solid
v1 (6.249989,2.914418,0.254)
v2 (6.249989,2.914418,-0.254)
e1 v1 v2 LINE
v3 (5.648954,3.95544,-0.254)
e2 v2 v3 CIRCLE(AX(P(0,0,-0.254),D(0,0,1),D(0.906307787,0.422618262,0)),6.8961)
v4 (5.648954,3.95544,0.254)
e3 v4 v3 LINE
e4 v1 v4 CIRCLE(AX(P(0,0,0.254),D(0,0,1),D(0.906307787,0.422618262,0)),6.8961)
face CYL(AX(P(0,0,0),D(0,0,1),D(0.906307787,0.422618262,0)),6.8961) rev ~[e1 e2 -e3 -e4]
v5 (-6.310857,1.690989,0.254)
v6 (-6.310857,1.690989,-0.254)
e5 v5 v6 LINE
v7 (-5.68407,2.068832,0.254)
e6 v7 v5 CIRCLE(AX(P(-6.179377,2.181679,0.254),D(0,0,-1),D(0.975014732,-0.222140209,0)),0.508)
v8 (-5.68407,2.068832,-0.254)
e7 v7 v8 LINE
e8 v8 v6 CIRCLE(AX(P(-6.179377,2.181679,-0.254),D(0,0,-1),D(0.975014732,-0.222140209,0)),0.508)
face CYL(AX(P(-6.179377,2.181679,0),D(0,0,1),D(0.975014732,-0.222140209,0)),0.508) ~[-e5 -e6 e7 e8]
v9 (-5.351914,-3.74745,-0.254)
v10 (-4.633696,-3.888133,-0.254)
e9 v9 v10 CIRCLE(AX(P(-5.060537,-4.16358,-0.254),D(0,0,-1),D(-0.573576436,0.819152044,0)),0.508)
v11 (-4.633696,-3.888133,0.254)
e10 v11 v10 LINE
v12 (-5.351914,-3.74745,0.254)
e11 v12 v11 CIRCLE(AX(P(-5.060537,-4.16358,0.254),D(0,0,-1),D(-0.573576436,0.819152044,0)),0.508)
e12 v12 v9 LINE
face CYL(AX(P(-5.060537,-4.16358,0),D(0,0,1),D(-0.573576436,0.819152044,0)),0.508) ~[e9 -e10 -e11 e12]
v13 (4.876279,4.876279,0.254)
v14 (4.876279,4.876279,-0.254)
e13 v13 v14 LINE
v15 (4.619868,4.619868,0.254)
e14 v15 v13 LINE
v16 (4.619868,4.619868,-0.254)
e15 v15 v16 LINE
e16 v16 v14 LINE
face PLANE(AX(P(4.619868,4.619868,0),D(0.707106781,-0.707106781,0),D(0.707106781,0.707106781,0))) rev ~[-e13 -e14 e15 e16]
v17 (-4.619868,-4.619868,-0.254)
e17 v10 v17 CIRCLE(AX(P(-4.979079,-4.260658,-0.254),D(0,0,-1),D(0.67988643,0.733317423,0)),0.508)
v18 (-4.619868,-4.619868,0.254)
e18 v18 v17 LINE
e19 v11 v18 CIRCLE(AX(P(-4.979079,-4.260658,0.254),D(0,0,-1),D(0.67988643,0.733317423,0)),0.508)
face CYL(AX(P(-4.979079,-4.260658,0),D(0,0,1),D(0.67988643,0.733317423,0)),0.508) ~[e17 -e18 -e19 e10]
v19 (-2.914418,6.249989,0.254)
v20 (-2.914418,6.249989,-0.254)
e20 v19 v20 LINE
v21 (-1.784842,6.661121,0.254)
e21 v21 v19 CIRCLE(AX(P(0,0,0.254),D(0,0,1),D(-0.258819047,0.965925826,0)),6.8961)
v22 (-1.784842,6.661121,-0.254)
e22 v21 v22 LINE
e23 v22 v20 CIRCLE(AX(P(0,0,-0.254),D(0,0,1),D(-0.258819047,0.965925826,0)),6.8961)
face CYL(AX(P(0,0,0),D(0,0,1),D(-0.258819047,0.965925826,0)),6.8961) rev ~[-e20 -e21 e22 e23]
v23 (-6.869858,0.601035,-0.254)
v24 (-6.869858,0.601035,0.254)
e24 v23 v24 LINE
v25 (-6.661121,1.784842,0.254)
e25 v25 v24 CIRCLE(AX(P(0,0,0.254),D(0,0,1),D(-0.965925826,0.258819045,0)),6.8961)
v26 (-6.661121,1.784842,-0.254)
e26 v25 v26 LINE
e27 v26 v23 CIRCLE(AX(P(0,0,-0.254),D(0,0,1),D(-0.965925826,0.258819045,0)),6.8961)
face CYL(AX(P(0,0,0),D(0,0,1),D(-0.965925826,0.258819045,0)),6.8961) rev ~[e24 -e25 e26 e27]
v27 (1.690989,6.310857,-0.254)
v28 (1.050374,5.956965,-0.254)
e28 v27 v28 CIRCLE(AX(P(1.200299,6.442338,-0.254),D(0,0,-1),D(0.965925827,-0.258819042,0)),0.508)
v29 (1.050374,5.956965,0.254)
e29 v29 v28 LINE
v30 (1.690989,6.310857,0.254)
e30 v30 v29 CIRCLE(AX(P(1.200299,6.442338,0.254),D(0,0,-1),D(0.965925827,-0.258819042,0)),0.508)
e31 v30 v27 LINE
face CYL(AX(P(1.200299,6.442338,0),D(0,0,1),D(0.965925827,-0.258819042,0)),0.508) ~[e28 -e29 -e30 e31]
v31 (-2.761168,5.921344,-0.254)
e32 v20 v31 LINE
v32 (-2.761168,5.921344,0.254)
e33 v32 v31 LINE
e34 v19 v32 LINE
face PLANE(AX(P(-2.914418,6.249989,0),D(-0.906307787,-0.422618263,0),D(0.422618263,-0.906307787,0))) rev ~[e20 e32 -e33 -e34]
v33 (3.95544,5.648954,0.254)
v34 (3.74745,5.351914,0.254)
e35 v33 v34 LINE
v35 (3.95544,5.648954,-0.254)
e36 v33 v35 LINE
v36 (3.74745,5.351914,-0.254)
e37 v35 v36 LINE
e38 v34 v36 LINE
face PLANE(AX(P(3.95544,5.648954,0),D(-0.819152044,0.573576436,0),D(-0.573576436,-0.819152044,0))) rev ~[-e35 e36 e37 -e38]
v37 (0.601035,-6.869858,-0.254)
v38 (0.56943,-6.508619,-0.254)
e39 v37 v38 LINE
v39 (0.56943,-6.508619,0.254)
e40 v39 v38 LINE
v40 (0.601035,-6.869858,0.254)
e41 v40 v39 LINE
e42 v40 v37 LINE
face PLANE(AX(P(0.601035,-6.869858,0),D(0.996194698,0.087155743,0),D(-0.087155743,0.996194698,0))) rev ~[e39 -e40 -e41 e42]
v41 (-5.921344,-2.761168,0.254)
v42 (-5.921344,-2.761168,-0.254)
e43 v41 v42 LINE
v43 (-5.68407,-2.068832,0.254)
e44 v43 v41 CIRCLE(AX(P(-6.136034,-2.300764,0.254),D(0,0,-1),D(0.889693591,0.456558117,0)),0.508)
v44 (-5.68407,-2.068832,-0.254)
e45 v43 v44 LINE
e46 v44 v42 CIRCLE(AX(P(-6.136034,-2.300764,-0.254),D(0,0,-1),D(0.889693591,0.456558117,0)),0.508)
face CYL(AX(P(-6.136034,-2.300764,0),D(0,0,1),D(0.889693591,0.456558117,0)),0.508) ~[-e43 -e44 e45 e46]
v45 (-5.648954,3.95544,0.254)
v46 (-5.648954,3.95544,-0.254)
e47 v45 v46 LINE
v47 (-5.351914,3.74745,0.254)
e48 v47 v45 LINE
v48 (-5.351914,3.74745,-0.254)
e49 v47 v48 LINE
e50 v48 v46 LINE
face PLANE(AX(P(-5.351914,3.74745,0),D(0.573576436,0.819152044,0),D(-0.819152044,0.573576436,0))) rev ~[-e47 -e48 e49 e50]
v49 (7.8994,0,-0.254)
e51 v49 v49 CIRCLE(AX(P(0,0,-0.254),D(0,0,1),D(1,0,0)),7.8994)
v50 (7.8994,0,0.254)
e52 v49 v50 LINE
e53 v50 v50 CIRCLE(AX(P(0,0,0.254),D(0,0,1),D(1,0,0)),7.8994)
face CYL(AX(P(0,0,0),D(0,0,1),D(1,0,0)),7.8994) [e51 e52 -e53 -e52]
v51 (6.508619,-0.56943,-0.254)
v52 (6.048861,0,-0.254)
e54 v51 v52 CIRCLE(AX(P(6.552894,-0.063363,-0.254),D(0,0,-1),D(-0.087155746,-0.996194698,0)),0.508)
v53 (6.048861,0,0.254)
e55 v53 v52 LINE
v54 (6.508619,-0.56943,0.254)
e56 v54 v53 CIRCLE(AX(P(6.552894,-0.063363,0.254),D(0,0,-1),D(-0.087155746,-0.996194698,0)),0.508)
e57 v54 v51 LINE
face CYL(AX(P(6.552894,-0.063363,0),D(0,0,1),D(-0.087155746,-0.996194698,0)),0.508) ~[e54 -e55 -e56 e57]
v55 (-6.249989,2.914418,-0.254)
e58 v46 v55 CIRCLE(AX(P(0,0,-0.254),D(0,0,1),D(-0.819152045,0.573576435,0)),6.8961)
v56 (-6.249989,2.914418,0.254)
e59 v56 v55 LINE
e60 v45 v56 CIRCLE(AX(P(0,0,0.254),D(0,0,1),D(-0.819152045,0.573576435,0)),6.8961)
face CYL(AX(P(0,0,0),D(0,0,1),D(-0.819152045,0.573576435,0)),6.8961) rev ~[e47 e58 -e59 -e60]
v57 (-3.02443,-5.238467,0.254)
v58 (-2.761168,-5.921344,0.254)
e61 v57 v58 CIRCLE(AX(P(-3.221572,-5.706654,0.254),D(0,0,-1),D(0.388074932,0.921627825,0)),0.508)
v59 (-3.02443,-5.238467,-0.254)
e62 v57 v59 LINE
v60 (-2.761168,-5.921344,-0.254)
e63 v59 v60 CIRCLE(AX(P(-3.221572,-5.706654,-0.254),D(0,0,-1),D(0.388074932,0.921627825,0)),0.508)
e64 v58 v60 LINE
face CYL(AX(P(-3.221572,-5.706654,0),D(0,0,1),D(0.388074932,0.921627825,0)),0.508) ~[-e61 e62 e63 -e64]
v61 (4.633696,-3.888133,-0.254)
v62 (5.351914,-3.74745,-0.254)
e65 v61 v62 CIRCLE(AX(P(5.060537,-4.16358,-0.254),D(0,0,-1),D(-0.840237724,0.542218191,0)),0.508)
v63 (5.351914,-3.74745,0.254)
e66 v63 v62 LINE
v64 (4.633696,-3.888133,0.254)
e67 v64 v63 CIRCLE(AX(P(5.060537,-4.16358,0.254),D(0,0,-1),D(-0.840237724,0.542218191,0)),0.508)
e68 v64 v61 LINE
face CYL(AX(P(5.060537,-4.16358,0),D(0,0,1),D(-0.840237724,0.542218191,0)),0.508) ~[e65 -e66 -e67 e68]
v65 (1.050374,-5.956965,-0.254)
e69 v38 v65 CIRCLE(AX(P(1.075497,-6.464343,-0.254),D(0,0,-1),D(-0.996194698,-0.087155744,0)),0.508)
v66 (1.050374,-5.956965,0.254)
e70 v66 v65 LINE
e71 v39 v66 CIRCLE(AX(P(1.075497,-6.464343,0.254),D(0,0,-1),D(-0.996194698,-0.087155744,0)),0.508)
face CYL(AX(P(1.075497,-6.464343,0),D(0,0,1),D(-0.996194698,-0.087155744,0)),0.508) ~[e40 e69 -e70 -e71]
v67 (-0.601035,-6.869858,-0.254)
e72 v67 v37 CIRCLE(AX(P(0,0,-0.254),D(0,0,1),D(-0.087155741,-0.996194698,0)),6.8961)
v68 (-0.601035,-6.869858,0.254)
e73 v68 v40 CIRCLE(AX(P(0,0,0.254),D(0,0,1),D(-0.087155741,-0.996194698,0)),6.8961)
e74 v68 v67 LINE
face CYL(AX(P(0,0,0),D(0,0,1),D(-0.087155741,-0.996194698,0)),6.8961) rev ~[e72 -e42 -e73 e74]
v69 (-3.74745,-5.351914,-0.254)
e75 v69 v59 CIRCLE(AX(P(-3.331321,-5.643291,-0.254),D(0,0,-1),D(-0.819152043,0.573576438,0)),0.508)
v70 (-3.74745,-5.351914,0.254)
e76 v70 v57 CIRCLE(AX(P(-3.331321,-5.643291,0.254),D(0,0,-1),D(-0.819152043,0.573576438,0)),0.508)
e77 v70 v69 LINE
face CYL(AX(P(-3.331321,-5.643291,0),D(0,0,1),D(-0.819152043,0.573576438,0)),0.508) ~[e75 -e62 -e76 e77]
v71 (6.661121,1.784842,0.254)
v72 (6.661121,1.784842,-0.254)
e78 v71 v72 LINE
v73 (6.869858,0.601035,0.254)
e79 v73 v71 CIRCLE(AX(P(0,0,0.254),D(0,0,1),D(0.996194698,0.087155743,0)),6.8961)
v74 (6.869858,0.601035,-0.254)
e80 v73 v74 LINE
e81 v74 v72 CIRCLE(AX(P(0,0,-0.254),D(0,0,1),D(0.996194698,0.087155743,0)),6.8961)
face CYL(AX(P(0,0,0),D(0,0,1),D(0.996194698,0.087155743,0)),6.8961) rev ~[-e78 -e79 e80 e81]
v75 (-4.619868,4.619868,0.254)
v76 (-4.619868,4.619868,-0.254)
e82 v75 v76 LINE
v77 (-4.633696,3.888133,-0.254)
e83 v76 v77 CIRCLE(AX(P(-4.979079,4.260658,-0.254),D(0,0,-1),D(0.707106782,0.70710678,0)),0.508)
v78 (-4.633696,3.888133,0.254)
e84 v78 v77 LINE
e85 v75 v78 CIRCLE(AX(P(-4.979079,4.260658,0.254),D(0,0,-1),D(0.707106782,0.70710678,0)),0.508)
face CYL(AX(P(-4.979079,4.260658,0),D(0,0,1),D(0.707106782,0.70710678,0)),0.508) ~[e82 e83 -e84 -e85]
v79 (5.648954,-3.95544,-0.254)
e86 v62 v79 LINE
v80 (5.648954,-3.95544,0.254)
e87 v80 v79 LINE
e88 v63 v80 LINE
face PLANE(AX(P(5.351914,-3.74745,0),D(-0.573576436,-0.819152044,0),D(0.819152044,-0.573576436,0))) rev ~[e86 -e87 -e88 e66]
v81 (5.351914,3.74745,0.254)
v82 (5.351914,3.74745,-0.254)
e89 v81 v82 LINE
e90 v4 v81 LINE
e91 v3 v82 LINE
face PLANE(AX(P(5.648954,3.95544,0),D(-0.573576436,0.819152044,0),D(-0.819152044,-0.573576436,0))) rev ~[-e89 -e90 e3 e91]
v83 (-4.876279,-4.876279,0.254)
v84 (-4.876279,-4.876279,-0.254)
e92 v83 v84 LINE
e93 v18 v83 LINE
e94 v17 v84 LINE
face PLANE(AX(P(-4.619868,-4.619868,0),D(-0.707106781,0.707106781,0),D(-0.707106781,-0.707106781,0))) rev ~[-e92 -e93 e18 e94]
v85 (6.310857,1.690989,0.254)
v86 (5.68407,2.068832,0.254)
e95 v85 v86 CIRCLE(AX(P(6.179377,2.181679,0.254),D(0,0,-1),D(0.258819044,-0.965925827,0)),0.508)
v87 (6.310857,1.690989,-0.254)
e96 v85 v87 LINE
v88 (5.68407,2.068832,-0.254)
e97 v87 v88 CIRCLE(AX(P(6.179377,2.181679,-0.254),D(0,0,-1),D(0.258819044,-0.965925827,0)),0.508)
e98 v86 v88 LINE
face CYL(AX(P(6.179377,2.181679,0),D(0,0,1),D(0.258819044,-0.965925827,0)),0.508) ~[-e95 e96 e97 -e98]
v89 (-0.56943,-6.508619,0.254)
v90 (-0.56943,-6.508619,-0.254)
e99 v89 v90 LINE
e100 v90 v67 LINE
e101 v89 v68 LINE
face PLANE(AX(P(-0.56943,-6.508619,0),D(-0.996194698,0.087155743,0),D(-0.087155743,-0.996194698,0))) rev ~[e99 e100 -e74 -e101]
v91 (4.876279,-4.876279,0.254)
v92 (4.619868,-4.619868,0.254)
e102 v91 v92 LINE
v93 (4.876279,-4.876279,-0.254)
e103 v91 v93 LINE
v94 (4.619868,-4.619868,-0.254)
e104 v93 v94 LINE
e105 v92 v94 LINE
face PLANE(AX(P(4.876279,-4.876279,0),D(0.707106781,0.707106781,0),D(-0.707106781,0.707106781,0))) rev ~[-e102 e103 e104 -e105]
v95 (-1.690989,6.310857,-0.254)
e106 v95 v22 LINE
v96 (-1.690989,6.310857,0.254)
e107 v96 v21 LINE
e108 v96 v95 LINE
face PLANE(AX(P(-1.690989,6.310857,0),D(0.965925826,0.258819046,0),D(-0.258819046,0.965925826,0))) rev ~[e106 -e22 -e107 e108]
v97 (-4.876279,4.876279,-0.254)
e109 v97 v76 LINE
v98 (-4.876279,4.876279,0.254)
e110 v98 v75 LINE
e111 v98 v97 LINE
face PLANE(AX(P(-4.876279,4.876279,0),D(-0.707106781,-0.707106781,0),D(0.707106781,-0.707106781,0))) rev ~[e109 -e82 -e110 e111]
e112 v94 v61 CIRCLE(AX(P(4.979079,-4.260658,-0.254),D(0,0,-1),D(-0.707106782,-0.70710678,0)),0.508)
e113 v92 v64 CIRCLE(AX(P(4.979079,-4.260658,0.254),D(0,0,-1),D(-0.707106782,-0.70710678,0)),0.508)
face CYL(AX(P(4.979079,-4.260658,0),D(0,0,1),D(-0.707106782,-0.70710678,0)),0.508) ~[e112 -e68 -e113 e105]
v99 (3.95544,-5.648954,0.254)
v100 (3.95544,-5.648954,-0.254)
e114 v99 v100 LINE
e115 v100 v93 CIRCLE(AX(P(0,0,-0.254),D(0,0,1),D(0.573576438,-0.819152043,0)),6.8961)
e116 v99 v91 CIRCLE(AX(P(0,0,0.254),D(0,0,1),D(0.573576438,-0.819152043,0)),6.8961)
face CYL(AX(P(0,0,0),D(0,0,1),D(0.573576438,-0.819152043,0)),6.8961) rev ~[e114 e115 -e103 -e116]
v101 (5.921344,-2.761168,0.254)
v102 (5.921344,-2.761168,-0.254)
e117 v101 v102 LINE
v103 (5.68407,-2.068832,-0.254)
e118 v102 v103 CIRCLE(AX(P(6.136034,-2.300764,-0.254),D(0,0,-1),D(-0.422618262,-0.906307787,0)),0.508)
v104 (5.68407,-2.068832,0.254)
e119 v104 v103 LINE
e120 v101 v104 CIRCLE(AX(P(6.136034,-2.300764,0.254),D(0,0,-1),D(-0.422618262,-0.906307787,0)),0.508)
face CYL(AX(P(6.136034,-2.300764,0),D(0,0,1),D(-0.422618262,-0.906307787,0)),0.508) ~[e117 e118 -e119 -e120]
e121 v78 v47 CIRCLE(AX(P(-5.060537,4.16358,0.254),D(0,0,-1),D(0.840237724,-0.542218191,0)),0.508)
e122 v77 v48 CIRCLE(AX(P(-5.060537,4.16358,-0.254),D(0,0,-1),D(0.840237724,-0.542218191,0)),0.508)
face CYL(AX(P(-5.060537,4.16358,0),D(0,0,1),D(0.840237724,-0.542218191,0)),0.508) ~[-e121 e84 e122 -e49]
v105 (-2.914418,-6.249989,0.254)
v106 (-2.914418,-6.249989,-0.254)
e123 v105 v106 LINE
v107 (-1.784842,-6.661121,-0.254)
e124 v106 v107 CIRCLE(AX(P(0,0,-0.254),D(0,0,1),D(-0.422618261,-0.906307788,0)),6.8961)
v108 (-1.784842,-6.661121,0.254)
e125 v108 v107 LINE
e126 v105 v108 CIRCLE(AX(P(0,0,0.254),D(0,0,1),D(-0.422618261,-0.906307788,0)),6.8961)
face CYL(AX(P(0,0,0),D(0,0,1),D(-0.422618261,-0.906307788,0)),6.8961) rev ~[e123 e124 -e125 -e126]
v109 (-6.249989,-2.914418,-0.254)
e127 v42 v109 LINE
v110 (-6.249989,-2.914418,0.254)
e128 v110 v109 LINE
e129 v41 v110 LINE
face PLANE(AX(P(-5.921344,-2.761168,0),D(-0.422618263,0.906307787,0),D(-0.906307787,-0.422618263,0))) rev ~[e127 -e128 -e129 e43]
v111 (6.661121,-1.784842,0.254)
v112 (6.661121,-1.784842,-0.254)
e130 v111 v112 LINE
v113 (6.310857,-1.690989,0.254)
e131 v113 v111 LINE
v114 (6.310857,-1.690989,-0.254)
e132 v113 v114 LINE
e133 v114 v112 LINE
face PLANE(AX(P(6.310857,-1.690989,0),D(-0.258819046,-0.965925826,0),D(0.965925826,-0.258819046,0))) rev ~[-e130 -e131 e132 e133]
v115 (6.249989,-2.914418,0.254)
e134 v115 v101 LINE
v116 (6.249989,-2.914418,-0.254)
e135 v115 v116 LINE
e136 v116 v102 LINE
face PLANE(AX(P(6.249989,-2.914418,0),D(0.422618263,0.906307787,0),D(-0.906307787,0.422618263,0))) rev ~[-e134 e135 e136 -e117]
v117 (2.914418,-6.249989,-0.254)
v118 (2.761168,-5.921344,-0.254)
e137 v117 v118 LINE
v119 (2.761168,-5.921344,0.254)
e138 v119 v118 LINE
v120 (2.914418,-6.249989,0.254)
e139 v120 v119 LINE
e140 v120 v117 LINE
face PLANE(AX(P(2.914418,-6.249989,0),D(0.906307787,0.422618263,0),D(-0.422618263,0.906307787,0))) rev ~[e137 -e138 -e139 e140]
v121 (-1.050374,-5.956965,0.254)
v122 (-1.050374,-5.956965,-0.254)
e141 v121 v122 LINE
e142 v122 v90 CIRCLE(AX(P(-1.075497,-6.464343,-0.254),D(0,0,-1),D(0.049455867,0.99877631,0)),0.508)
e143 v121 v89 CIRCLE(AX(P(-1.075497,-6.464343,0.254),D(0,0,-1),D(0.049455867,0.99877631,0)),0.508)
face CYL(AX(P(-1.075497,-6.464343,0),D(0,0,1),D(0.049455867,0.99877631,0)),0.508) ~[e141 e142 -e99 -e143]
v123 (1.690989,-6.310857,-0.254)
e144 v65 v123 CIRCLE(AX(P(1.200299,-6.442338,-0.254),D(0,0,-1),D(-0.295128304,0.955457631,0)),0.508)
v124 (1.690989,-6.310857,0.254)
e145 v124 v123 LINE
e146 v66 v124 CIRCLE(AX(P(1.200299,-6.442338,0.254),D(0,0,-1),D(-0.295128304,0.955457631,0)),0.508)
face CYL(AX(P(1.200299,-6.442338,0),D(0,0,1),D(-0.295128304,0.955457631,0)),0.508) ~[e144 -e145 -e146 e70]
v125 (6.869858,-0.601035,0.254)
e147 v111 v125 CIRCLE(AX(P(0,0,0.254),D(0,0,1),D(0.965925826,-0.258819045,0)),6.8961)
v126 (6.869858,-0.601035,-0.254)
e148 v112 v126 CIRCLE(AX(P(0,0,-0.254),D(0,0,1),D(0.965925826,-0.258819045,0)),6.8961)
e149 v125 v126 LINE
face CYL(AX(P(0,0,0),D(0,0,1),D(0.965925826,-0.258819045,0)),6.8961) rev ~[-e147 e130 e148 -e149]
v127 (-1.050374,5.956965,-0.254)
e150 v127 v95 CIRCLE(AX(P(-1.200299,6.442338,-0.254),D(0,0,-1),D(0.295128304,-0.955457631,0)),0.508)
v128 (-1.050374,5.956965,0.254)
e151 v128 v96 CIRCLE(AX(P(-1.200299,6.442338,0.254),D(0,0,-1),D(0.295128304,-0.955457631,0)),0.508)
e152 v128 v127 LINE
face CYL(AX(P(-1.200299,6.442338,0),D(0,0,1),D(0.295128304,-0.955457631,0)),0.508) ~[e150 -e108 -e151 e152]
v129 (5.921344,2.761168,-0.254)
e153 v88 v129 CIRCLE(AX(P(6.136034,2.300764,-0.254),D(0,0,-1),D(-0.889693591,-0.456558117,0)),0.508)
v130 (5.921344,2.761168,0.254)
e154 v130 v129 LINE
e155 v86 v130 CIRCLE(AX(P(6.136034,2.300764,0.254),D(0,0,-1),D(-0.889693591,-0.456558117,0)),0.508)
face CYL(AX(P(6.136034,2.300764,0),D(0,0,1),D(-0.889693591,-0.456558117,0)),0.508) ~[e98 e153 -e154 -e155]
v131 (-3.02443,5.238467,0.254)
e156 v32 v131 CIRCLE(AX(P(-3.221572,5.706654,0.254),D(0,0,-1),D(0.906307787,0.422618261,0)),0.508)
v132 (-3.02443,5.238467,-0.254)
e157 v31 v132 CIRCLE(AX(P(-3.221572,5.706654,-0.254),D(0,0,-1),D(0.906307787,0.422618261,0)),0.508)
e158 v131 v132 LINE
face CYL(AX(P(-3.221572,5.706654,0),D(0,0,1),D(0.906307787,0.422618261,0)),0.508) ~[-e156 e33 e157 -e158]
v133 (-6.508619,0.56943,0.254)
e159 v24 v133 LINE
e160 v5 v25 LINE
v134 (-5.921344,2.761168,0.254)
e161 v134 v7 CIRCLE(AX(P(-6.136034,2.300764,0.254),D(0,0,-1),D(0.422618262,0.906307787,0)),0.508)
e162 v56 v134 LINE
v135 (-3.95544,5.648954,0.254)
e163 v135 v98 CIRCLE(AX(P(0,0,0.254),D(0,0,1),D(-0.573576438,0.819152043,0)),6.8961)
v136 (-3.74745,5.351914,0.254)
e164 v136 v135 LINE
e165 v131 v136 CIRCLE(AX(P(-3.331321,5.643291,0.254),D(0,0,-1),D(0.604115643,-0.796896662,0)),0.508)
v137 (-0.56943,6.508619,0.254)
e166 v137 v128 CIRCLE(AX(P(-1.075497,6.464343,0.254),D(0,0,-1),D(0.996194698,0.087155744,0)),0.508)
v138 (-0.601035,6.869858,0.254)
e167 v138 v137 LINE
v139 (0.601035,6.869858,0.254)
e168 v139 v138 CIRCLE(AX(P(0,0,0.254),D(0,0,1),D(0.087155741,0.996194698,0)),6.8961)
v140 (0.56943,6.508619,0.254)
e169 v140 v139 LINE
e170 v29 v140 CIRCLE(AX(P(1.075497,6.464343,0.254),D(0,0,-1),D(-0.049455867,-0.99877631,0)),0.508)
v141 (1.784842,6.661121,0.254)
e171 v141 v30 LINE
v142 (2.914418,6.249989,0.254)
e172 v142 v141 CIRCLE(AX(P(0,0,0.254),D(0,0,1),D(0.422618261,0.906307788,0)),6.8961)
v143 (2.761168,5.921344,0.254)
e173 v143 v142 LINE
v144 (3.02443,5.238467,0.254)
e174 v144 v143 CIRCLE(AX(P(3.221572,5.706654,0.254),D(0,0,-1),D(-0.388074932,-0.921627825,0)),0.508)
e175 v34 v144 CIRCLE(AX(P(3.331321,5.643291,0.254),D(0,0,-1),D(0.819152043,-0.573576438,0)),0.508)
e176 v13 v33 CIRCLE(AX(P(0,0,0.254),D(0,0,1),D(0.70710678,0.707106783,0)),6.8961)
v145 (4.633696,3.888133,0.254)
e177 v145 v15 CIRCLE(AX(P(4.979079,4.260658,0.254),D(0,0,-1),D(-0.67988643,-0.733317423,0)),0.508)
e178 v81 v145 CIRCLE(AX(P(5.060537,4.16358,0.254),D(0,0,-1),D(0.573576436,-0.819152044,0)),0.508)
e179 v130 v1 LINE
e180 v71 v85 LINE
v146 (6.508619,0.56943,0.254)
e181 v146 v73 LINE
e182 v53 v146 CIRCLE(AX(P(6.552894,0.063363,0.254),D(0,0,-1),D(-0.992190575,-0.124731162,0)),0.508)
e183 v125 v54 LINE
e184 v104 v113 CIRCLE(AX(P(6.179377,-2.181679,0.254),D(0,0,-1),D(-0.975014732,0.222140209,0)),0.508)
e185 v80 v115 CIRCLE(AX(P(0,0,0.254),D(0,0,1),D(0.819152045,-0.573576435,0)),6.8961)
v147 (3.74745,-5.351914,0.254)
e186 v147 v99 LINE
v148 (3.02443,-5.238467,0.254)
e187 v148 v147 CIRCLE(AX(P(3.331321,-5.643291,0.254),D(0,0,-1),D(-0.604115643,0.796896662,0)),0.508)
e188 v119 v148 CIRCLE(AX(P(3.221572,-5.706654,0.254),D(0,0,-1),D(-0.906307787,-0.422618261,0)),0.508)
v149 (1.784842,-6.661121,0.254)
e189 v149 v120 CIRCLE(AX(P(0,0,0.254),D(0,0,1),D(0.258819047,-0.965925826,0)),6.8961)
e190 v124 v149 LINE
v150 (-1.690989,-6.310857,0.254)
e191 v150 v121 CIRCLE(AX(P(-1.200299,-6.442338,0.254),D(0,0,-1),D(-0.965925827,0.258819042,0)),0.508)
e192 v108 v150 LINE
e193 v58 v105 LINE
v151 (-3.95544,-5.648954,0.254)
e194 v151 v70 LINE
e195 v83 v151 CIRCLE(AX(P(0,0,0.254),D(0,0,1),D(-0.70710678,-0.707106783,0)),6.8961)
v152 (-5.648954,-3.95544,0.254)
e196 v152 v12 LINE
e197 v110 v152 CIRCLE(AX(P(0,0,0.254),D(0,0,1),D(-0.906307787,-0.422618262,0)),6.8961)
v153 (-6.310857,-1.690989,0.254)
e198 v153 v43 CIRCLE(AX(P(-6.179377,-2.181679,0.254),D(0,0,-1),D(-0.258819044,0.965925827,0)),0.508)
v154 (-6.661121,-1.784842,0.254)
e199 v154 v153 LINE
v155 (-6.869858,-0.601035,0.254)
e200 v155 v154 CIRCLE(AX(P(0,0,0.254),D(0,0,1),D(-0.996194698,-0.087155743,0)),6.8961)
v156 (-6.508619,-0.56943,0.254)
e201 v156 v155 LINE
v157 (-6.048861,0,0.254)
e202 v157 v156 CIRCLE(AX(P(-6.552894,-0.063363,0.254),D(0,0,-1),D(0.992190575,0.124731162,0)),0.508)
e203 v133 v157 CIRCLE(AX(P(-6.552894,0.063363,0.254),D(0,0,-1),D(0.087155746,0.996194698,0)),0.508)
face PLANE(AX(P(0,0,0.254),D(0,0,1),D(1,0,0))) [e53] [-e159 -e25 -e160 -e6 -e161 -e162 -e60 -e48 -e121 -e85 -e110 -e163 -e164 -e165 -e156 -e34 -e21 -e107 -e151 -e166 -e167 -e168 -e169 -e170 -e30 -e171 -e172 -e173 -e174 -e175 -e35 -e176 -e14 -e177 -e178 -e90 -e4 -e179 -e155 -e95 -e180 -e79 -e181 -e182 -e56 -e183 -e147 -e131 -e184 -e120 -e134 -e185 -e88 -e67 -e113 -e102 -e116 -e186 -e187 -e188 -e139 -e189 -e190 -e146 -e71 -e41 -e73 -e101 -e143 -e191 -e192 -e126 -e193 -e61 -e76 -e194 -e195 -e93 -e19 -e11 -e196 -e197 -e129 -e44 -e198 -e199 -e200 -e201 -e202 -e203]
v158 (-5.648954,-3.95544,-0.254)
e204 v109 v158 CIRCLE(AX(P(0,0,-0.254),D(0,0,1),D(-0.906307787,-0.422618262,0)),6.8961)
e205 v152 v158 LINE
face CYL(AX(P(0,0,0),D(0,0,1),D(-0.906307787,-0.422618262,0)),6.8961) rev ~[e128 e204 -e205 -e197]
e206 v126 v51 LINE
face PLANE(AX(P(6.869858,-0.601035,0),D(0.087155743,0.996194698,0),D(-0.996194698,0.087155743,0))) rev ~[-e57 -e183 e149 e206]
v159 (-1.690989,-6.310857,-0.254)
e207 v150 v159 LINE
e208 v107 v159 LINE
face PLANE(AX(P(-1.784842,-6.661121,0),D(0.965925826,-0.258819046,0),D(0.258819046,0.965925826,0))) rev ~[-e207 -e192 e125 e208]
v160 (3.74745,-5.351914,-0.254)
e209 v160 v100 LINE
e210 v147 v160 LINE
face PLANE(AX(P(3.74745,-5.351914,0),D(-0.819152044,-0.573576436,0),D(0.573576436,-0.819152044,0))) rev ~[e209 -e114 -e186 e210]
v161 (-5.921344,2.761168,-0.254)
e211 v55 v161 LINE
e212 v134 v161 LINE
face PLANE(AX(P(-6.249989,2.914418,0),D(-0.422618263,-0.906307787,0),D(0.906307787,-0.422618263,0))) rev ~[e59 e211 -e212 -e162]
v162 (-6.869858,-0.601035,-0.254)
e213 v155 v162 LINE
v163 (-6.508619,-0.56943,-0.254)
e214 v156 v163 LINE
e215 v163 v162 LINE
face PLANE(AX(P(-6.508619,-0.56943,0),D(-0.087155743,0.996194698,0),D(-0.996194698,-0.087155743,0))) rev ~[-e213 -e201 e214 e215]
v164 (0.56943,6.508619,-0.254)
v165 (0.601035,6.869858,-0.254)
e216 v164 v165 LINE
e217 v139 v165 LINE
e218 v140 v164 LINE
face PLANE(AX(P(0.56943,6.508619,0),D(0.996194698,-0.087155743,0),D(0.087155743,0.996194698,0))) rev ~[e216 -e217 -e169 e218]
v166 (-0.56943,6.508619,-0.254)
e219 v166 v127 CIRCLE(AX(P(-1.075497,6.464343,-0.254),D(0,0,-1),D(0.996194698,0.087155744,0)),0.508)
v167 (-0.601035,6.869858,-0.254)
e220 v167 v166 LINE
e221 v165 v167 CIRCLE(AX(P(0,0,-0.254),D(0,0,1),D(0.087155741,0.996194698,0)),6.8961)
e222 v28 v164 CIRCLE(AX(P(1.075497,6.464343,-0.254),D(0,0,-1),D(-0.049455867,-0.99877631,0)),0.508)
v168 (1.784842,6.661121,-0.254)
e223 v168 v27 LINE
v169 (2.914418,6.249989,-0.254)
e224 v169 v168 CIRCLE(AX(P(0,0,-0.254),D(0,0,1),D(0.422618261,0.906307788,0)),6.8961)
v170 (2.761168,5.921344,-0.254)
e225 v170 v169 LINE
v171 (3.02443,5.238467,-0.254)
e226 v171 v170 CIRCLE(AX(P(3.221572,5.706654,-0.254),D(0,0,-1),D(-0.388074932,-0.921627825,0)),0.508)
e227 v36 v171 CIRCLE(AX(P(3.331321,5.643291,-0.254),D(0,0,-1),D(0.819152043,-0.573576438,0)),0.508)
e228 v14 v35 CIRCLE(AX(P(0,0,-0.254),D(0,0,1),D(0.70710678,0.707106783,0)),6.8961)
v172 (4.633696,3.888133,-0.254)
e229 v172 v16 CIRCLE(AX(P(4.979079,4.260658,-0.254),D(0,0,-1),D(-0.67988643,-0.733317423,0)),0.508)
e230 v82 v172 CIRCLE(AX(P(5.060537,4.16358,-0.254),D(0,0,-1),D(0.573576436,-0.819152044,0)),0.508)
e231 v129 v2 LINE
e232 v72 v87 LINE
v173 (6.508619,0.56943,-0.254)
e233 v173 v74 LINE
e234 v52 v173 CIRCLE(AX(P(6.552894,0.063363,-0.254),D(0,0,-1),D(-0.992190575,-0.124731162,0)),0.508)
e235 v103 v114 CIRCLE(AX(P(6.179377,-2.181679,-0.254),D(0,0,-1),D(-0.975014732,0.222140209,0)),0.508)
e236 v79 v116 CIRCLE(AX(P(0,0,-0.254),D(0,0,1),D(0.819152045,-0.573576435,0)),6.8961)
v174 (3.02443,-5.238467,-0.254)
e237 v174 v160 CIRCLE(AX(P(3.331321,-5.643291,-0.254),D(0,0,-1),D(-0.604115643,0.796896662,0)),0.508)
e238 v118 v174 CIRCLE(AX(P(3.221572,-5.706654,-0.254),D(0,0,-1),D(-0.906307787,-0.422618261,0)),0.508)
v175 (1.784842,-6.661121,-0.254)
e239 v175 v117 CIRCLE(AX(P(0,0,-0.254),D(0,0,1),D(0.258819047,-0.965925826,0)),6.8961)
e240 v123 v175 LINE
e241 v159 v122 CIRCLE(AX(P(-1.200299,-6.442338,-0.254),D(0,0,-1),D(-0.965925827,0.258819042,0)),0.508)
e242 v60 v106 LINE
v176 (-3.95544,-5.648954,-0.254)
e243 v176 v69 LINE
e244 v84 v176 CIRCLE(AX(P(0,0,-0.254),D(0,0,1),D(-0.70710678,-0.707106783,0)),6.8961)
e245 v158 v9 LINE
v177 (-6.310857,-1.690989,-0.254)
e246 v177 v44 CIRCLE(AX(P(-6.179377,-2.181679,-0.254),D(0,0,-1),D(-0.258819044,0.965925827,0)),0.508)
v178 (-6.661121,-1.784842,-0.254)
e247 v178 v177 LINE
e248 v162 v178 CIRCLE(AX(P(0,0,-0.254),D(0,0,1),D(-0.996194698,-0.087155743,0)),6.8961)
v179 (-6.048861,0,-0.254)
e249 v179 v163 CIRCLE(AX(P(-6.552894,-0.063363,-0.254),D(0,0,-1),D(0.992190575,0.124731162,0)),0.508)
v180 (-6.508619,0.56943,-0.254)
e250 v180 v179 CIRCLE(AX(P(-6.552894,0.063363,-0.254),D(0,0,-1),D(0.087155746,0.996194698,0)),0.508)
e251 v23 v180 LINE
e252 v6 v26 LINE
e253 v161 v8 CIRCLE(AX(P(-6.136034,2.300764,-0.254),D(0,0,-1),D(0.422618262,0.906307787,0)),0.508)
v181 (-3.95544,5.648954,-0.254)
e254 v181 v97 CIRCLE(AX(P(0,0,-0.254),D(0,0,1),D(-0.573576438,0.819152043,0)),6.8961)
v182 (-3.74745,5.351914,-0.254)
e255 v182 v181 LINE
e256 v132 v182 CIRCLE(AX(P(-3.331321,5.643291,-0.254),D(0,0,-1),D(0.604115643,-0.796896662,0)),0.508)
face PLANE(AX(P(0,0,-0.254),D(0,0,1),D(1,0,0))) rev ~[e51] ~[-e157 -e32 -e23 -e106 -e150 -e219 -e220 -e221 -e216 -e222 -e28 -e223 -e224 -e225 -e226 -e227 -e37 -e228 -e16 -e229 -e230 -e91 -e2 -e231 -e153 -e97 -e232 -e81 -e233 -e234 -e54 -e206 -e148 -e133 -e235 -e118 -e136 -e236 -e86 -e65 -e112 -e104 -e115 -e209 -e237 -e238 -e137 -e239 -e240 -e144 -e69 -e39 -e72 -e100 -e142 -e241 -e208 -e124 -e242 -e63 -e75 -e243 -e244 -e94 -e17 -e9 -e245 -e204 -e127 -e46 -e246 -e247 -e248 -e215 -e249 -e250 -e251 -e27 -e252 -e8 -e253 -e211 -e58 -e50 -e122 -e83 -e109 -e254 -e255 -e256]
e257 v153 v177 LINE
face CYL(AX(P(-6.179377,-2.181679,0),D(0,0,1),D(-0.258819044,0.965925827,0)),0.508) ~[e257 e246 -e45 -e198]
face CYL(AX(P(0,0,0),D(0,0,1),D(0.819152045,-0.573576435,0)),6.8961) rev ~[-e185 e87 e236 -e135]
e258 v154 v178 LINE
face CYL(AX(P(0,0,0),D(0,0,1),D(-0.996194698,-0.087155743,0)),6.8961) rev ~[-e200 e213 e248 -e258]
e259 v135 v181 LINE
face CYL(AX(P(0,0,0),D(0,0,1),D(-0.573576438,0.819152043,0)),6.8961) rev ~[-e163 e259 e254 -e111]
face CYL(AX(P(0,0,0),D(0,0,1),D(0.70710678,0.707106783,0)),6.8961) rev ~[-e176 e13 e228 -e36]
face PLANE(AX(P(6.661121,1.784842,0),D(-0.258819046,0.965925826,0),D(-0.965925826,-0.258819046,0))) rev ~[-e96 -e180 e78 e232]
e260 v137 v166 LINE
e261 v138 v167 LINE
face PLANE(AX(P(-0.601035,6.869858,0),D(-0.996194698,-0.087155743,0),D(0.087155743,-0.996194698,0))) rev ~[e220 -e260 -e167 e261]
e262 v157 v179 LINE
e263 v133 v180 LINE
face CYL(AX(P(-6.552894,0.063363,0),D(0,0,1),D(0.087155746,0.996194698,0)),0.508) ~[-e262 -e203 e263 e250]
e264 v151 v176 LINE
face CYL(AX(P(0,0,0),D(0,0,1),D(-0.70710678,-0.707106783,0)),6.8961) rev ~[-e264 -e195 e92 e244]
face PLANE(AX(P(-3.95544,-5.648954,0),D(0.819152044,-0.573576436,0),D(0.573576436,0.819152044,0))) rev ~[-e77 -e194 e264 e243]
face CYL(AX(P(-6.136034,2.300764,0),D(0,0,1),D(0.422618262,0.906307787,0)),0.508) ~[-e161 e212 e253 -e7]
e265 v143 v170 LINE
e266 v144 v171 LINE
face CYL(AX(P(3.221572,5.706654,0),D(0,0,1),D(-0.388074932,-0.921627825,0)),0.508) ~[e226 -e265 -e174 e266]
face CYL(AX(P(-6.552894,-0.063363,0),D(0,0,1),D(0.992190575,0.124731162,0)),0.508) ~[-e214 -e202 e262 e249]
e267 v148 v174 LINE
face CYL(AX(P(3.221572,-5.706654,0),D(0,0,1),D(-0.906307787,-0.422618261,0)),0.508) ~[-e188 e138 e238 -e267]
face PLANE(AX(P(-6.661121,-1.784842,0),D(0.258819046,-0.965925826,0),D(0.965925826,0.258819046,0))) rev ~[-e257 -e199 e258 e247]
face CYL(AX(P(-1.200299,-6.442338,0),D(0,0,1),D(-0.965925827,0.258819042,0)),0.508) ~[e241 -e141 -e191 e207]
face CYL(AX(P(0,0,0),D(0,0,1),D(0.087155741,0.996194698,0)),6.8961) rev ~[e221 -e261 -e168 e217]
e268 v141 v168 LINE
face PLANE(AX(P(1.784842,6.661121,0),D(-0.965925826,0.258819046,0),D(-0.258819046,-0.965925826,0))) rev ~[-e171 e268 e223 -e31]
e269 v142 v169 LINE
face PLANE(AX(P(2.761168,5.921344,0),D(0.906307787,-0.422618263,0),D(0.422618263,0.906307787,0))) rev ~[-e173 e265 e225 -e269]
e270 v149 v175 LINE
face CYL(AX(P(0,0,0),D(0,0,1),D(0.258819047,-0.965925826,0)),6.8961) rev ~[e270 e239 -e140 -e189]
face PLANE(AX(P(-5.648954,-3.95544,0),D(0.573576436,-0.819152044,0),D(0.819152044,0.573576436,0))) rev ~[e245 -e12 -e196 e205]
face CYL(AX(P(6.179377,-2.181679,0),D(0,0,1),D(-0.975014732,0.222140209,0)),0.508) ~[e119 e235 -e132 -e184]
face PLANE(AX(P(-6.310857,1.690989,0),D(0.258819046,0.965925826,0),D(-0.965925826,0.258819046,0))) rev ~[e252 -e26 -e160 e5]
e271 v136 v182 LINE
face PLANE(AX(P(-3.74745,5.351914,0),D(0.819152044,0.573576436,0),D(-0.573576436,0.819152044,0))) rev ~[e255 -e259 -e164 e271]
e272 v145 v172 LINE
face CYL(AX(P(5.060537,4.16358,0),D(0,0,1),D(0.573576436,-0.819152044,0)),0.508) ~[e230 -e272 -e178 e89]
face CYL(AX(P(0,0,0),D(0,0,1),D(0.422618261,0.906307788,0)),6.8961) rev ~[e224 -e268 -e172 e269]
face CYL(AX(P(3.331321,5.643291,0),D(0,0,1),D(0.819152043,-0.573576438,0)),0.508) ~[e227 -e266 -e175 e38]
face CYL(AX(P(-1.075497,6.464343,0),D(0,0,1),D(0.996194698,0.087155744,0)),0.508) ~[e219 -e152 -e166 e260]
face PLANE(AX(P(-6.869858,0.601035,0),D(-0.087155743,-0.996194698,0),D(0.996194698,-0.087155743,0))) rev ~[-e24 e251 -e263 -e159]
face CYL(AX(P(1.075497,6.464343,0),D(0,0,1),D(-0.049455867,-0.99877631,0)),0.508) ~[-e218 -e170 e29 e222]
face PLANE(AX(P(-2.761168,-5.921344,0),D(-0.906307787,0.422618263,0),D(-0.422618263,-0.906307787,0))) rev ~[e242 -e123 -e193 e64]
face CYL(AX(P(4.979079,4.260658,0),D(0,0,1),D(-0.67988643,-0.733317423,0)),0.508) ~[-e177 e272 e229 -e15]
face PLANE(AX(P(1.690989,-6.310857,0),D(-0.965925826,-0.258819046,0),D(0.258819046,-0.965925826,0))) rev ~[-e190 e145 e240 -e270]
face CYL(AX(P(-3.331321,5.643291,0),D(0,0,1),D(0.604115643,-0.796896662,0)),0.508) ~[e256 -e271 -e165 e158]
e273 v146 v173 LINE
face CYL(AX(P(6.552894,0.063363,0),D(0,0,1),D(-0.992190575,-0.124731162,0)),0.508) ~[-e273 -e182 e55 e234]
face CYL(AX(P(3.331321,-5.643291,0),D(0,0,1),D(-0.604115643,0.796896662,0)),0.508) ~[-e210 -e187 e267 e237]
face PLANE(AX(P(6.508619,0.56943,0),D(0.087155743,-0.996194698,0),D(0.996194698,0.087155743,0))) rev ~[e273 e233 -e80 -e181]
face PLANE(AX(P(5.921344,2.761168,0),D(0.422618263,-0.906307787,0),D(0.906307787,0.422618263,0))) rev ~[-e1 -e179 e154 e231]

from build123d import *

# Parameters (mm, degrees)
BOSS_EXTRUDE1_DEPTH      = 0.254
BOSS_EXTRUDE1_DEPTH_BACK = 0.254
SKETCH1_R                = 7.8994


with BuildPart() as part:
    # Sketch1 → Boss-Extrude1 (new, two sides: drawn at the far end of the back side and taken through both)
    with BuildSketch(Plane.XY.offset(-BOSS_EXTRUDE1_DEPTH_BACK)):
        Circle(SKETCH1_R)
        with BuildLine():
            Line((-6.869858258, 0.601034718), (-6.508618542, 0.569430338))
            ThreePointArc((-6.508618542, 0.569430338), (-6.15764295, 0.382488604), (-6.048860848, 0))
            ThreePointArc((-6.048860848, 0), (-6.15764295, -0.382488604), (-6.508618542, -0.569430338))
            Line((-6.508618542, -0.569430338), (-6.869858258, -0.601034718))
            ThreePointArc((-6.869858258, -0.601034718), (-6.791332746, -1.197495198), (-6.661121091, -1.784842017))
            Line((-6.661121091, -1.784842017), (-6.310857462, -1.69098916))
            ThreePointArc((-6.310857462, -1.69098916), (-5.917110449, -1.746616205), (-5.684069903, -2.068832254))
            ThreePointArc((-5.684069903, -2.068832254), (-5.655472834, -2.465459643), (-5.92134417, -2.761168133))
            Line((-5.92134417, -2.761168133), (-6.24998913, -2.914417795))
            ThreePointArc((-6.24998913, -2.914417795), (-5.972197787, -3.44805), (-5.648954413, -3.955440463))
            Line((-5.648954413, -3.955440463), (-5.351913832, -3.747450409))
            ThreePointArc((-5.351913832, -3.747450409), (-4.9628871, -3.665053323), (-4.63369624, -3.888132806))
            ThreePointArc((-4.63369624, -3.888132806), (-4.471169229, -4.251059863), (-4.619868301, -4.619868301))
            Line((-4.619868301, -4.619868301), (-4.876279074, -4.876279074))
            ThreePointArc((-4.876279074, -4.876279074), (-4.432727635, -5.282719084), (-3.955440463, -5.648954413))
            Line((-3.955440463, -5.648954413), (-3.747450409, -5.351913832))
            ThreePointArc((-3.747450409, -5.351913832), (-3.410066323, -5.14143092), (-3.024430424, -5.238467158))
            ThreePointArc((-3.024430424, -5.238467158), (-2.747576627, -5.523919524), (-2.761168133, -5.92134417))
            Line((-2.761168133, -5.92134417), (-2.914417795, -6.24998913))
            ThreePointArc((-2.914417795, -6.24998913), (-2.35860511, -6.480214282), (-1.784842017, -6.661121091))
            Line((-1.784842017, -6.661121091), (-1.69098916, -6.310857462))
            ThreePointArc((-1.69098916, -6.310857462), (-1.44594122, -5.997676068), (-1.050373663, -5.95696506))
            ThreePointArc((-1.050373663, -5.95696506), (-0.692585734, -6.130512966), (-0.569430338, -6.508618542))
            Line((-0.569430338, -6.508618542), (-0.601034718, -6.869858258))
            ThreePointArc((-0.601034718, -6.869858258), (0, -6.8961), (0.601034718, -6.869858258))
            Line((0.601034718, -6.869858258), (0.569430338, -6.508618542))
            ThreePointArc((0.569430338, -6.508618542), (0.692585734, -6.130512966), (1.050373663, -5.95696506))
            ThreePointArc((1.050373663, -5.95696506), (1.44594122, -5.997676068), (1.69098916, -6.310857462))
            Line((1.69098916, -6.310857462), (1.784842017, -6.661121091))
            ThreePointArc((1.784842017, -6.661121091), (2.35860511, -6.480214282), (2.914417795, -6.24998913))
            Line((2.914417795, -6.24998913), (2.761168133, -5.92134417))
            ThreePointArc((2.761168133, -5.92134417), (2.747576627, -5.523919524), (3.024430424, -5.238467158))
            ThreePointArc((3.024430424, -5.238467158), (3.410066323, -5.14143092), (3.747450409, -5.351913832))
            Line((3.747450409, -5.351913832), (3.955440463, -5.648954413))
            ThreePointArc((3.955440463, -5.648954413), (4.432727635, -5.282719084), (4.876279074, -4.876279074))
            Line((4.876279074, -4.876279074), (4.619868301, -4.619868301))
            ThreePointArc((4.619868301, -4.619868301), (4.471169229, -4.251059863), (4.63369624, -3.888132806))
            ThreePointArc((4.63369624, -3.888132806), (4.9628871, -3.665053323), (5.351913832, -3.747450409))
            Line((5.351913832, -3.747450409), (5.648954413, -3.955440463))
            ThreePointArc((5.648954413, -3.955440463), (5.972197787, -3.44805), (6.24998913, -2.914417795))
            Line((6.24998913, -2.914417795), (5.92134417, -2.761168133))
            ThreePointArc((5.92134417, -2.761168133), (5.655472834, -2.465459643), (5.684069903, -2.068832254))
            ThreePointArc((5.684069903, -2.068832254), (5.917110449, -1.746616205), (6.310857462, -1.69098916))
            Line((6.310857462, -1.69098916), (6.661121091, -1.784842017))
            ThreePointArc((6.661121091, -1.784842017), (6.791332746, -1.197495198), (6.869858258, -0.601034718))
            Line((6.869858258, -0.601034718), (6.508618542, -0.569430338))
            ThreePointArc((6.508618542, -0.569430338), (6.15764295, -0.382488604), (6.048860848, 0))
            ThreePointArc((6.048860848, 0), (6.15764295, 0.382488604), (6.508618542, 0.569430338))
            Line((6.508618542, 0.569430338), (6.869858258, 0.601034718))
            ThreePointArc((6.869858258, 0.601034718), (6.791332746, 1.197495198), (6.661121091, 1.784842017))
            Line((6.661121091, 1.784842017), (6.310857462, 1.69098916))
            ThreePointArc((6.310857462, 1.69098916), (5.917110449, 1.746616205), (5.684069903, 2.068832254))
            ThreePointArc((5.684069903, 2.068832254), (5.655472834, 2.465459643), (5.92134417, 2.761168133))
            Line((5.92134417, 2.761168133), (6.24998913, 2.914417795))
            ThreePointArc((6.24998913, 2.914417795), (5.972197787, 3.44805), (5.648954413, 3.955440463))
            Line((5.648954413, 3.955440463), (5.351913832, 3.747450409))
            ThreePointArc((5.351913832, 3.747450409), (4.9628871, 3.665053323), (4.63369624, 3.888132806))
            ThreePointArc((4.63369624, 3.888132806), (4.471169229, 4.251059863), (4.619868301, 4.619868301))
            Line((4.619868301, 4.619868301), (4.876279074, 4.876279074))
            ThreePointArc((4.876279074, 4.876279074), (4.432727635, 5.282719084), (3.955440463, 5.648954413))
            Line((3.955440463, 5.648954413), (3.747450409, 5.351913832))
            ThreePointArc((3.747450409, 5.351913832), (3.410066323, 5.14143092), (3.024430424, 5.238467158))
            ThreePointArc((3.024430424, 5.238467158), (2.747576627, 5.523919524), (2.761168133, 5.92134417))
            Line((2.761168133, 5.92134417), (2.914417795, 6.24998913))
            ThreePointArc((2.914417795, 6.24998913), (2.35860511, 6.480214282), (1.784842017, 6.661121091))
            Line((1.784842017, 6.661121091), (1.69098916, 6.310857462))
            ThreePointArc((1.69098916, 6.310857462), (1.44594122, 5.997676068), (1.050373663, 5.95696506))
            ThreePointArc((1.050373663, 5.95696506), (0.692585734, 6.130512966), (0.569430338, 6.508618542))
            Line((0.569430338, 6.508618542), (0.601034718, 6.869858258))
            ThreePointArc((0.601034718, 6.869858258), (0, 6.8961), (-0.601034718, 6.869858258))
            Line((-0.601034718, 6.869858258), (-0.569430338, 6.508618542))
            ThreePointArc((-0.569430338, 6.508618542), (-0.692585734, 6.130512966), (-1.050373663, 5.95696506))
            ThreePointArc((-1.050373663, 5.95696506), (-1.44594122, 5.997676068), (-1.69098916, 6.310857462))
            Line((-1.69098916, 6.310857462), (-1.784842017, 6.661121091))
            ThreePointArc((-1.784842017, 6.661121091), (-2.35860511, 6.480214282), (-2.914417795, 6.24998913))
            Line((-2.914417795, 6.24998913), (-2.761168133, 5.92134417))
            ThreePointArc((-2.761168133, 5.92134417), (-2.747576627, 5.523919524), (-3.024430424, 5.238467158))
            ThreePointArc((-3.024430424, 5.238467158), (-3.410066323, 5.14143092), (-3.747450409, 5.351913832))
            Line((-3.747450409, 5.351913832), (-3.955440463, 5.648954413))
            ThreePointArc((-3.955440463, 5.648954413), (-4.432727635, 5.282719084), (-4.876279074, 4.876279074))
            Line((-4.876279074, 4.876279074), (-4.619868301, 4.619868301))
            ThreePointArc((-4.619868301, 4.619868301), (-4.471169229, 4.251059863), (-4.63369624, 3.888132806))
            ThreePointArc((-4.63369624, 3.888132806), (-4.9628871, 3.665053323), (-5.351913832, 3.747450409))
            Line((-5.351913832, 3.747450409), (-5.648954413, 3.955440463))
            ThreePointArc((-5.648954413, 3.955440463), (-5.972197787, 3.44805), (-6.24998913, 2.914417795))
            Line((-6.24998913, 2.914417795), (-5.92134417, 2.761168133))
            ThreePointArc((-5.92134417, 2.761168133), (-5.655472834, 2.465459643), (-5.684069903, 2.068832254))
            ThreePointArc((-5.684069903, 2.068832254), (-5.917110449, 1.746616205), (-6.310857462, 1.69098916))
            Line((-6.310857462, 1.69098916), (-6.661121091, 1.784842017))
            ThreePointArc((-6.661121091, 1.784842017), (-6.791332746, 1.197495198), (-6.869858258, 0.601034718))
        make_face(mode=Mode.SUBTRACT)
    extrude(amount=BOSS_EXTRUDE1_DEPTH + BOSS_EXTRUDE1_DEPTH_BACK)


solid = part.part
